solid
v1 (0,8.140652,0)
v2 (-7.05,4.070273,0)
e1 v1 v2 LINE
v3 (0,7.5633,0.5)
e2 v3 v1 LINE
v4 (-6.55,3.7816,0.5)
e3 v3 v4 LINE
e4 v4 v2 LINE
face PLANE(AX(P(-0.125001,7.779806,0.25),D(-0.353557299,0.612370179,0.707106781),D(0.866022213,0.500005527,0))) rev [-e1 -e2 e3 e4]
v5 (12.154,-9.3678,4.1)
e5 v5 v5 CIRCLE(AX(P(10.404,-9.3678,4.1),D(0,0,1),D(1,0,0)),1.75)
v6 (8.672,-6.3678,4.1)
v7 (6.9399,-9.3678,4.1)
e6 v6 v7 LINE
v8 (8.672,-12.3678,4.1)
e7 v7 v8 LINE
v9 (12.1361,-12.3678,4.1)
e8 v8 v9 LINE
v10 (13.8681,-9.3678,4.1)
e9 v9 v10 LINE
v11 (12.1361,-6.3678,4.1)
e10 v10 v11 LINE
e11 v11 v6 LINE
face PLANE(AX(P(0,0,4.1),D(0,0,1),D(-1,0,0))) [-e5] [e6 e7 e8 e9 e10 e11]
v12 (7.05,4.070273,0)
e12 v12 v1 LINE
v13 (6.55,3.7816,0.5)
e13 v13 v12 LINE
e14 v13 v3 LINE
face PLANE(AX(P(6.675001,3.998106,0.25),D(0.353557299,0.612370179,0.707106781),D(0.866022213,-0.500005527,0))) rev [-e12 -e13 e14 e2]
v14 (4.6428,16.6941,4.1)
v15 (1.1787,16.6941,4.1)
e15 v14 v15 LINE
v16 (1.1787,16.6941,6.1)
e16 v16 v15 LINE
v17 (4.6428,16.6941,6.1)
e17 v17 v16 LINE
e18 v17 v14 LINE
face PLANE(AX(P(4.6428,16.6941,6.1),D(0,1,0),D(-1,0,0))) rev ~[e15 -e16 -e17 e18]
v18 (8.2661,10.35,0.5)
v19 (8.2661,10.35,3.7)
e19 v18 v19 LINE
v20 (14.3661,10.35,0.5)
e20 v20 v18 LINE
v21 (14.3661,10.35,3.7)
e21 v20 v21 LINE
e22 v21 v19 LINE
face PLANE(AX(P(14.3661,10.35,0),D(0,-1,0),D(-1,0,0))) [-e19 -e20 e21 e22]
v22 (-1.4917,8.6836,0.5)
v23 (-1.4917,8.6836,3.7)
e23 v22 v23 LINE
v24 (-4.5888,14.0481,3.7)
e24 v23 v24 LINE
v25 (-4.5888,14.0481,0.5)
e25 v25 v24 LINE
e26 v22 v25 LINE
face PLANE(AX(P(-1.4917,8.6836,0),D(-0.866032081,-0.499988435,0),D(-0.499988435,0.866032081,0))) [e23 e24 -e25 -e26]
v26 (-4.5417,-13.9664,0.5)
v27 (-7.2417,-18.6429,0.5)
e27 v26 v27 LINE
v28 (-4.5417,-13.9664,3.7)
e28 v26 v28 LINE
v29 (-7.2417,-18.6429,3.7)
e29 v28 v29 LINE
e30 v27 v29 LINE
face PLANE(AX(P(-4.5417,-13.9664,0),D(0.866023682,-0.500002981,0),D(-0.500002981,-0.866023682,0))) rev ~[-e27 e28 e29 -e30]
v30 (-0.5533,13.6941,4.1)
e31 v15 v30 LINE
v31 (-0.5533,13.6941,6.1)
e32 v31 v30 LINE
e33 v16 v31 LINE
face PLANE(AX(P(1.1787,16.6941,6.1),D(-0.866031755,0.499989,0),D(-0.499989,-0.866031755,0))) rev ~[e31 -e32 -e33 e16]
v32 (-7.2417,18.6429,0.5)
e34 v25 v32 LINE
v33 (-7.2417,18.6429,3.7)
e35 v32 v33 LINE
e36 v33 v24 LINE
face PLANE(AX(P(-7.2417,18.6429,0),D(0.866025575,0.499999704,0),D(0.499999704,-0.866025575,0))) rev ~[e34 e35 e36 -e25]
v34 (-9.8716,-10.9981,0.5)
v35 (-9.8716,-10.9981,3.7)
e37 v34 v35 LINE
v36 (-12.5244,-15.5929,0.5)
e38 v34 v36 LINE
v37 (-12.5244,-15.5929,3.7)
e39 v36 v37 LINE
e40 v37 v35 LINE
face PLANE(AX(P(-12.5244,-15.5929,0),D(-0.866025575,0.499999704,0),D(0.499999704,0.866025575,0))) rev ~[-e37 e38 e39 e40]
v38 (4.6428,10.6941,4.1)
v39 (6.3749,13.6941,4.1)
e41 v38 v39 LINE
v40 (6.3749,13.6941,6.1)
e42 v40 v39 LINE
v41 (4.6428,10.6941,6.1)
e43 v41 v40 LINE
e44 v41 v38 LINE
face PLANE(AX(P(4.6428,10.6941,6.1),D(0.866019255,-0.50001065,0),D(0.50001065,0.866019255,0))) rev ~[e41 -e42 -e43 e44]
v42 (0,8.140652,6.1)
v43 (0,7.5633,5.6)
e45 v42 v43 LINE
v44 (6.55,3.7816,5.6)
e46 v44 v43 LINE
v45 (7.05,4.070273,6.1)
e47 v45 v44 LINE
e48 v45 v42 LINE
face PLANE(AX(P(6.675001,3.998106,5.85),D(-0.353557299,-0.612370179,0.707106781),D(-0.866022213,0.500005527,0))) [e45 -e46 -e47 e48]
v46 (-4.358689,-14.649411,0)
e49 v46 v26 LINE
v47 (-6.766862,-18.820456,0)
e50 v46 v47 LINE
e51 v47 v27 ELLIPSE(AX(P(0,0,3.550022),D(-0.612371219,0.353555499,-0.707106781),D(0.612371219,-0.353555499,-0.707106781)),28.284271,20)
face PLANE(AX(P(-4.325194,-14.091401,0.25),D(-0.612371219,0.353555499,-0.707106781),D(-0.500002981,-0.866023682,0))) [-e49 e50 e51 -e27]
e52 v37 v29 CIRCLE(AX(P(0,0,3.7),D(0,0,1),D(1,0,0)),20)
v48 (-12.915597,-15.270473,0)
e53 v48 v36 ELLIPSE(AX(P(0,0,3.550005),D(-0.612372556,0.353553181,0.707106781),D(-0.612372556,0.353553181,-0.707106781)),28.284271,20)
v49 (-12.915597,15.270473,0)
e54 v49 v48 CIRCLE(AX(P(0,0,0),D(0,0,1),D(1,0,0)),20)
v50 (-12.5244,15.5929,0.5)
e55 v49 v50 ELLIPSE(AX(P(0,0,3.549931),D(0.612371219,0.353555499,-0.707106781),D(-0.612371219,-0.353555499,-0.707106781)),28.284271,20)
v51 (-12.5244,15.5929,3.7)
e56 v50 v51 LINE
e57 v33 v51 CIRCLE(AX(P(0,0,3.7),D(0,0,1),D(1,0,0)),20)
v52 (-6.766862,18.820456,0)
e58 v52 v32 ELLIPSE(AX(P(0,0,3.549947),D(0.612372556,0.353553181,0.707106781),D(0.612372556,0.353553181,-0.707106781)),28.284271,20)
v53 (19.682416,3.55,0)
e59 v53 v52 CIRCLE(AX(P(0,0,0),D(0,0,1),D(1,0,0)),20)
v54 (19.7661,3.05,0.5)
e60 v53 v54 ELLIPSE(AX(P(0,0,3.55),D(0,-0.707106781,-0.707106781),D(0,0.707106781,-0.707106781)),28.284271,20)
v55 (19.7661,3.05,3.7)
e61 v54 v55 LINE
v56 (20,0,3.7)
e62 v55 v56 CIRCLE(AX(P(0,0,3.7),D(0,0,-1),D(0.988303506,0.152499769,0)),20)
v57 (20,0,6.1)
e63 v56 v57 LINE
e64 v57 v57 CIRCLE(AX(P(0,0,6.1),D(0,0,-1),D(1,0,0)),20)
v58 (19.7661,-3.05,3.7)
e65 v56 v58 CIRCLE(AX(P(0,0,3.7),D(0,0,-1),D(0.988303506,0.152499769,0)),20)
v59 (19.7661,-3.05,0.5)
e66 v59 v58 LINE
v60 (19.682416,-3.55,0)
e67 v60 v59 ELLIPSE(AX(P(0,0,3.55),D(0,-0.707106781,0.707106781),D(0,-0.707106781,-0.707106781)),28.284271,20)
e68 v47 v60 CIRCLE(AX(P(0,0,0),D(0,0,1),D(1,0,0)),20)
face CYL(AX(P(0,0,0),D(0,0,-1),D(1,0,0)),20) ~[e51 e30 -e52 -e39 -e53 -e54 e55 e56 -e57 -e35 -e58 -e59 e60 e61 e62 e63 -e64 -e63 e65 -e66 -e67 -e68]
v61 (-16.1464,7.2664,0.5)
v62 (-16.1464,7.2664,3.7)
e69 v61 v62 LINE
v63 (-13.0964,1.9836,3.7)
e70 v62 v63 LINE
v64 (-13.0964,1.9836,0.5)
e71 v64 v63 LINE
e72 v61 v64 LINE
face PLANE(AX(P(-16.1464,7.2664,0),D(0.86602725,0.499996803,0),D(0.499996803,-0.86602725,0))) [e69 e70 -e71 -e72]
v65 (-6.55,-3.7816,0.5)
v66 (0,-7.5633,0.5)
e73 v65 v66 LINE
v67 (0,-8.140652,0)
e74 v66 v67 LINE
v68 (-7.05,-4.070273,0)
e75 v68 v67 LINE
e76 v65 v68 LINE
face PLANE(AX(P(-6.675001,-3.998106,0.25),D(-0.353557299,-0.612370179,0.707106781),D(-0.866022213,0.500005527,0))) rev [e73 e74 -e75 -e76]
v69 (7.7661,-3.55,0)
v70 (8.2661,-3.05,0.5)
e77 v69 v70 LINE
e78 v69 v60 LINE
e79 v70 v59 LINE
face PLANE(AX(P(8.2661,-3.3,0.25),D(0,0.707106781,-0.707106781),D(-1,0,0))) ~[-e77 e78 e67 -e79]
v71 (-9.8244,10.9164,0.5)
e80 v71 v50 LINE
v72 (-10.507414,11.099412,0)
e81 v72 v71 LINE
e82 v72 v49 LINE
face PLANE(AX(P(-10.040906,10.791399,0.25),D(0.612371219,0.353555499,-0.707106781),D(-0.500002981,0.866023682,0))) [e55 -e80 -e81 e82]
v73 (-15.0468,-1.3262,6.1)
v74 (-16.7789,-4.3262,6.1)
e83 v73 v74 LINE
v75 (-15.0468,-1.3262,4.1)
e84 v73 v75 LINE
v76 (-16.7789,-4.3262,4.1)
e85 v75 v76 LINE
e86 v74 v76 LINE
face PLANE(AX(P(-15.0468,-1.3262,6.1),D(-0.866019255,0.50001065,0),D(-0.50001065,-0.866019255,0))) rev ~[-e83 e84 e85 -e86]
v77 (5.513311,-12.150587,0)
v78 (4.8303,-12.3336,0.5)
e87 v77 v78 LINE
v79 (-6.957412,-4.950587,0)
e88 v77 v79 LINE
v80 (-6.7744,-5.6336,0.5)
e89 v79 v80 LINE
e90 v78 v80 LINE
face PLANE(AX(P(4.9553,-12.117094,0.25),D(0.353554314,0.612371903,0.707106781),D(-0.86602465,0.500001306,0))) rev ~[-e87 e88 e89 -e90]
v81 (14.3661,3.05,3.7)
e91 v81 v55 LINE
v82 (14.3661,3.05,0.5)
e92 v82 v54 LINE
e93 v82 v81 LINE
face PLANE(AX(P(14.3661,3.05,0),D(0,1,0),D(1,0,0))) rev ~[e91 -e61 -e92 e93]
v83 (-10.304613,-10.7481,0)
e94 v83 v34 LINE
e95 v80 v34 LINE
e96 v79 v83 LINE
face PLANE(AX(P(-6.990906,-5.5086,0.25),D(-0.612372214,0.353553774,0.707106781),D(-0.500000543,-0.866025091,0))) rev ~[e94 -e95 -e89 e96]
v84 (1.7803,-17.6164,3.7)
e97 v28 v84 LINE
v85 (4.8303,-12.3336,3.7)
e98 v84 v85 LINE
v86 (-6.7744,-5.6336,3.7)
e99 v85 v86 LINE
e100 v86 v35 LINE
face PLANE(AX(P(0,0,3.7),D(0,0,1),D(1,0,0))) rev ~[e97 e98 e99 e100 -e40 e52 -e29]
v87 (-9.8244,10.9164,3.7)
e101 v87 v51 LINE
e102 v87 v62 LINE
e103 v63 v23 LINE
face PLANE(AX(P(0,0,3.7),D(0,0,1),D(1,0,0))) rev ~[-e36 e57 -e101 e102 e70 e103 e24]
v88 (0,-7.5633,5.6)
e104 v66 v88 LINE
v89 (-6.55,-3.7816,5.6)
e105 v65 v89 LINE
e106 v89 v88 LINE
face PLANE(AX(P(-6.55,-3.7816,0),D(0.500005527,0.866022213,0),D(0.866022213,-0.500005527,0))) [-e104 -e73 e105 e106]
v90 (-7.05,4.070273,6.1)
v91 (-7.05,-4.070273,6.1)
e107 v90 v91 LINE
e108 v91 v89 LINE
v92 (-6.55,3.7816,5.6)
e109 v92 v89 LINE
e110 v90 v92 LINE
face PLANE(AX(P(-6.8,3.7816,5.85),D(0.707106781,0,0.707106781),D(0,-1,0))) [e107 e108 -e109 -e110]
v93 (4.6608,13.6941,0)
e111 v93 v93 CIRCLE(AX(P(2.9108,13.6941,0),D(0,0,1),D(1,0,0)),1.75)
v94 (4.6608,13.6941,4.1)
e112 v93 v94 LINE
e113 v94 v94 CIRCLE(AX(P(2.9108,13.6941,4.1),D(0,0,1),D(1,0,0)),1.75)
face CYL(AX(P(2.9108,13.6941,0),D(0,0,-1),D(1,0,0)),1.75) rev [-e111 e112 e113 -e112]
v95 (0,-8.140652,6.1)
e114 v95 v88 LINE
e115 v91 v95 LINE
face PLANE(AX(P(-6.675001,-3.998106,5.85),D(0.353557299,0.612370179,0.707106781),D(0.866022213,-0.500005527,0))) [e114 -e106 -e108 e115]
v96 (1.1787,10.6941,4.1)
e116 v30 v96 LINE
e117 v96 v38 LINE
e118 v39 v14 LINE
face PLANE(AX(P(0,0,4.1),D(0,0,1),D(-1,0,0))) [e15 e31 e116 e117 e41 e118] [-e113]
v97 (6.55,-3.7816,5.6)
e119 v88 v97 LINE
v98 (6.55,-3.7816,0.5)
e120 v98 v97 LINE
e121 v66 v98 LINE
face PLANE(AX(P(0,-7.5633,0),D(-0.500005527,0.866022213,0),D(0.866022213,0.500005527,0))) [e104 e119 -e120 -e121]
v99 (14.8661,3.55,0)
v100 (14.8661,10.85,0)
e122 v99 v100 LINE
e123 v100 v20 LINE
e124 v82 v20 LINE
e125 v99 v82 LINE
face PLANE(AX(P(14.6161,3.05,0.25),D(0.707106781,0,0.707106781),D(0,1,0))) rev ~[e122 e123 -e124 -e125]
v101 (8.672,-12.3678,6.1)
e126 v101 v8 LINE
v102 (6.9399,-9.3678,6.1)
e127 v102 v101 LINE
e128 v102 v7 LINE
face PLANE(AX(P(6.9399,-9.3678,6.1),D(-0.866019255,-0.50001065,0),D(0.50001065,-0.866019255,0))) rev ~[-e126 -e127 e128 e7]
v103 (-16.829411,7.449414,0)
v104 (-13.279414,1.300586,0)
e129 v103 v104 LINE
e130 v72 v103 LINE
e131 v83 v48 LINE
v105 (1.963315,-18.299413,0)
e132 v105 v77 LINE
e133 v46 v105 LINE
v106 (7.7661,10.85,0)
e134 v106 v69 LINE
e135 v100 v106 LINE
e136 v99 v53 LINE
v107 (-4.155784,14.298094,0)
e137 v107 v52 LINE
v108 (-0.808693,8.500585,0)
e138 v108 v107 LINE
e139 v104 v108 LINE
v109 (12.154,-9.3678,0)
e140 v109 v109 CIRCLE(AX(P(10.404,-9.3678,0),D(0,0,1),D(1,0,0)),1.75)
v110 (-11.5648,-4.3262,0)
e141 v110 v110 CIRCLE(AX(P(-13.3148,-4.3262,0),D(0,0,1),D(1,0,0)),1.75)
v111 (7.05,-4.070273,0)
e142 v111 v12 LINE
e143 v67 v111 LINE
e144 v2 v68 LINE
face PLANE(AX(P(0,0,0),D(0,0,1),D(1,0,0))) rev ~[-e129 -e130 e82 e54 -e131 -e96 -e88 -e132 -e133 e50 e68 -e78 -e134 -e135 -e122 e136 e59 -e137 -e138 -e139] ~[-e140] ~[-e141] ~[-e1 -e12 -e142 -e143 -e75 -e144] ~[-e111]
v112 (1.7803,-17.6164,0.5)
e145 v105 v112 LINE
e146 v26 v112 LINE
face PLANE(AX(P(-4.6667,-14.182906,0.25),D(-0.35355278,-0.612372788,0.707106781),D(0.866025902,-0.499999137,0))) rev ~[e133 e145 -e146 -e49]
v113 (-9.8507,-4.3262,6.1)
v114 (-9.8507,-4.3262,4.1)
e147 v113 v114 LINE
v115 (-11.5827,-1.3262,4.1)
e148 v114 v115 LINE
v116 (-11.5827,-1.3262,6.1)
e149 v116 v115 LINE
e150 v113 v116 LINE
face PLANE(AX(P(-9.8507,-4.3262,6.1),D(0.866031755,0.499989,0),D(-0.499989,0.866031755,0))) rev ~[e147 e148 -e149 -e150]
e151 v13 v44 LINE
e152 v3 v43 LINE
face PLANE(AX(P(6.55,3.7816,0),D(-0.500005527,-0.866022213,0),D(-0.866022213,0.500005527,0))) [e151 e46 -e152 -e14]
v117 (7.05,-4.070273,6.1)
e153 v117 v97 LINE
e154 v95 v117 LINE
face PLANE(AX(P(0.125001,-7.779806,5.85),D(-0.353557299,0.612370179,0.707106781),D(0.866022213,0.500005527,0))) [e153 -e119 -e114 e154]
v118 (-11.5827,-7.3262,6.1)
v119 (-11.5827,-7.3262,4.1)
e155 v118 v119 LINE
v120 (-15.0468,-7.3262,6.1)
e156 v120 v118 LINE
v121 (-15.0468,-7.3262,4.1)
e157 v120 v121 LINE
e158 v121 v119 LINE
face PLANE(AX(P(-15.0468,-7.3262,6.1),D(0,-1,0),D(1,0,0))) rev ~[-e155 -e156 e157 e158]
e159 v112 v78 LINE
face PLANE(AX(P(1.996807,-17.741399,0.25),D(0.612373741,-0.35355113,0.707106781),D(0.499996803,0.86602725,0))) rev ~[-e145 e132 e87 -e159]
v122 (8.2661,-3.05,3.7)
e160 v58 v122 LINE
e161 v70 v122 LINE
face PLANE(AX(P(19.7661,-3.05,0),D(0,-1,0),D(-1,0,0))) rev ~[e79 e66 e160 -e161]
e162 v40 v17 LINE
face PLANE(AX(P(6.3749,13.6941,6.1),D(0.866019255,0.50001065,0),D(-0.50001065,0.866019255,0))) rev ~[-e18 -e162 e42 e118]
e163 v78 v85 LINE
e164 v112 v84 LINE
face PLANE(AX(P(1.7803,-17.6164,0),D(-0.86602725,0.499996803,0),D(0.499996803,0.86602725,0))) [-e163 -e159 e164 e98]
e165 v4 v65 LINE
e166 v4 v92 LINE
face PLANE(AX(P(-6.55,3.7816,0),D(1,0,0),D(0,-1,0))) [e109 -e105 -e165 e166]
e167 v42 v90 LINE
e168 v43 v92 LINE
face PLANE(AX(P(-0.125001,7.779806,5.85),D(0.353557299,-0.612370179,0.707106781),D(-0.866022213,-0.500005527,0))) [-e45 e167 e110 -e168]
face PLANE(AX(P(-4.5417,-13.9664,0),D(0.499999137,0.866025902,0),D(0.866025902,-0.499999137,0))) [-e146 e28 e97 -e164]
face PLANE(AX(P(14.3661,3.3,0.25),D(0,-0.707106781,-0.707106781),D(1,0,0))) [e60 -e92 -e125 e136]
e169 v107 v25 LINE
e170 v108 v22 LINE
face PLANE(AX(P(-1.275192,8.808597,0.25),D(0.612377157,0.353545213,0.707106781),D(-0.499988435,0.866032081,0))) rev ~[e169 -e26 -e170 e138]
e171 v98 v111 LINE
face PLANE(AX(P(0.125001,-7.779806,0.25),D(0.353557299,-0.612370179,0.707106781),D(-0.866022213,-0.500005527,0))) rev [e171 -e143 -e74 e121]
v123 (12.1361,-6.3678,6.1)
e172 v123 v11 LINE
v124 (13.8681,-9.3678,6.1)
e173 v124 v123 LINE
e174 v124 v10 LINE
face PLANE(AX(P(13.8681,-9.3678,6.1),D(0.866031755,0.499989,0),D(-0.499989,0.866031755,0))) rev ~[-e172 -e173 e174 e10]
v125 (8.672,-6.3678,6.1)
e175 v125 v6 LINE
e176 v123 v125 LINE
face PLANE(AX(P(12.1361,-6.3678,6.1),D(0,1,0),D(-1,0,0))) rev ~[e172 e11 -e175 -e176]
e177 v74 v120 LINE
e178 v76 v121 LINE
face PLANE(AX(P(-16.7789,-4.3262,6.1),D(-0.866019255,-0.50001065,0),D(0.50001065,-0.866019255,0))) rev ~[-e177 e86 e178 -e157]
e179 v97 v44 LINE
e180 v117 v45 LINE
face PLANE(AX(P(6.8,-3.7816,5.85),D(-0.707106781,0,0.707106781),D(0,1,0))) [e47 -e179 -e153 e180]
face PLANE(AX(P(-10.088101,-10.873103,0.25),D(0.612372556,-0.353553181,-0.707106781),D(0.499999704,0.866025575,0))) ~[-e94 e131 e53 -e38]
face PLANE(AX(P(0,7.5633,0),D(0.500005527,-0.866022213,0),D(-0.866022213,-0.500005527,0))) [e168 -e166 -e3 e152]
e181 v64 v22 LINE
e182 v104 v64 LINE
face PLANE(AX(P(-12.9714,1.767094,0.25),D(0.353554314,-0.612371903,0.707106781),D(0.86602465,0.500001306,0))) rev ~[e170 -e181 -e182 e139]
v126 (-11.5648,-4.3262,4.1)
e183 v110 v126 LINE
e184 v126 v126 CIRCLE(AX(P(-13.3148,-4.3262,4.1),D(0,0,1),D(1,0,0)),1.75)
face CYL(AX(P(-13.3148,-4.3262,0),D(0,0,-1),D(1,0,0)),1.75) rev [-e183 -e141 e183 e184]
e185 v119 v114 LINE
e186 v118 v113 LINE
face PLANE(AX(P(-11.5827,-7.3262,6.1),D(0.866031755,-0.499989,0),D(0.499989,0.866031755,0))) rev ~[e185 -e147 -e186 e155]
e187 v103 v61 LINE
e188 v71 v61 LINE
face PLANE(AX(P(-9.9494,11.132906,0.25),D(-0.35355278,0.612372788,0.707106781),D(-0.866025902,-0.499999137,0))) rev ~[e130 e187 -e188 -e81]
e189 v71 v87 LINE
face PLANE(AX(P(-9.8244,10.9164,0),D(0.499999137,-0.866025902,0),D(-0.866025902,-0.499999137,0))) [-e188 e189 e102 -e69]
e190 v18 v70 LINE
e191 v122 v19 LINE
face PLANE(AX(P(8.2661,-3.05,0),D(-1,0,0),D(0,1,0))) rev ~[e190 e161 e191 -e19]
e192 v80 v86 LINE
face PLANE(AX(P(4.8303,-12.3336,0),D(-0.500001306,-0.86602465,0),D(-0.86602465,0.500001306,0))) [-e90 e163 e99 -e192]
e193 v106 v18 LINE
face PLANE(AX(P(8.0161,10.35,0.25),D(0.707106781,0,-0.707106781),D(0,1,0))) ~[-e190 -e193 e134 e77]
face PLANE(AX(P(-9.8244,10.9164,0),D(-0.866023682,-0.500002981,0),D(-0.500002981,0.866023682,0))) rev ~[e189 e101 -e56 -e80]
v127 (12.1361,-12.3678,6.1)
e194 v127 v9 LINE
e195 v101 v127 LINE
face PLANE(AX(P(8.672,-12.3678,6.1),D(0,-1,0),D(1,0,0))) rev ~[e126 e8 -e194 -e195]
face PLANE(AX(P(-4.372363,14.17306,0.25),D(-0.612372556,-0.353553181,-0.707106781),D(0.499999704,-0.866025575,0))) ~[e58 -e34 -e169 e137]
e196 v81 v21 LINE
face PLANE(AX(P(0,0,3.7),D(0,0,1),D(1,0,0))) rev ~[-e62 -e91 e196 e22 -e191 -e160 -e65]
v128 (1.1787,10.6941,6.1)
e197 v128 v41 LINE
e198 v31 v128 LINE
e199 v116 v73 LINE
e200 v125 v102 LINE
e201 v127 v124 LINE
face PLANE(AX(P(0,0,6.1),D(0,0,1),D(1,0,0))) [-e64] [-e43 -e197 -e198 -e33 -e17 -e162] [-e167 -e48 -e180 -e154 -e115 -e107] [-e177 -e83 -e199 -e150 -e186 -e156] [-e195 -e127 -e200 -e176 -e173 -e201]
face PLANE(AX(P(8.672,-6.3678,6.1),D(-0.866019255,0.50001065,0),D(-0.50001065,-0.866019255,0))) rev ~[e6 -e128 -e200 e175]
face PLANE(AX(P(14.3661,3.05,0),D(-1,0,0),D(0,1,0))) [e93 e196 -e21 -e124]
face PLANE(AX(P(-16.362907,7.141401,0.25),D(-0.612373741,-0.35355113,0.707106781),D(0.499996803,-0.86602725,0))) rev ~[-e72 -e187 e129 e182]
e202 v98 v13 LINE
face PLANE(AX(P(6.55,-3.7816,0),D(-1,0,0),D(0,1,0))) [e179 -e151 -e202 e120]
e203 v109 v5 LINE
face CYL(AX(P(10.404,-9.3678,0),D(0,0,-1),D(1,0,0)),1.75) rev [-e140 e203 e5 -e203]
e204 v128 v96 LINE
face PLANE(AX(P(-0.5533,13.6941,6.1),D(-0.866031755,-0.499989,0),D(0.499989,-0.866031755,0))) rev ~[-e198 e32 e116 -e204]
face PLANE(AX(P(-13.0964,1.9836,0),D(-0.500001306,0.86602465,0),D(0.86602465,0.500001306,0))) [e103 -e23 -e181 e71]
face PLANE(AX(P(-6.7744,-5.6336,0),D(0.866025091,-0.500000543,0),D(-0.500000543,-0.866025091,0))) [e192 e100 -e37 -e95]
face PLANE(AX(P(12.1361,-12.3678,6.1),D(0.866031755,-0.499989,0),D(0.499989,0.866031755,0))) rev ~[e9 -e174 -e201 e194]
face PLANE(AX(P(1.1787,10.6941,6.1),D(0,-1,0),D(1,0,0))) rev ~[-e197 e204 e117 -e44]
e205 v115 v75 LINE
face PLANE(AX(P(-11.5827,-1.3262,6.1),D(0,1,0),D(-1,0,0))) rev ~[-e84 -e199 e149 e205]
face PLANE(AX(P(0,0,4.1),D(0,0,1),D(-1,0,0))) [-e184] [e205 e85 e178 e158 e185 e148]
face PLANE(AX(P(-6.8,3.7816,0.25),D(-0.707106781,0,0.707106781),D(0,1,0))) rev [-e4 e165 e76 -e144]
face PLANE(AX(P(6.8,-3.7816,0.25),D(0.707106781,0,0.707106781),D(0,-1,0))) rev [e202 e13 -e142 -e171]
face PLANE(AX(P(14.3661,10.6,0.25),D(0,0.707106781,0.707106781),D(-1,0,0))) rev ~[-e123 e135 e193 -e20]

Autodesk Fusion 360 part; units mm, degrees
sketch "Esquisse1" plane through (0, 0, 0) normal (0, 0, 1) x (1, 0, 0)
  circle A0 centre (0, 0) radius 20
  line L0 (19.7661, -3.05) -> (8.2661, -3.05)
  line L1 (8.2661, -3.05) -> (8.2661, 3.1)
  line L2 (14.3661, 3.05) -> (19.7661, 3.05)
  line L3 (8.2661, -3.05) -> (14.4604, -3.05)
  line L4 (14.3661, 10.35) -> (8.2661, 10.35)
  line L5 (8.2661, 10.35) -> (8.2661, -3.05)
  line L6 (0, 0) -> (29, 0) construction
  line L7 (14.3661, 3.05) -> (14.3661, 10.35)
  line L8 (-9.8244, 10.9164) -> (-16.1464, 7.2664)
  line L9 (-16.1464, 7.2664) -> (-13.0964, 1.9836)
  line L10 (-13.0964, 1.9836) -> (-1.4917, 8.6836)
  line L11 (-1.4917, 8.6836) -> (-4.5888, 14.0481)
  line L12 (-7.2417, 18.6429) -> (-1.4917, 8.6836)
  line L13 (-9.8244, 10.9164) -> (-12.5244, 15.5929)
  line L14 (-4.5417, -13.9664) -> (1.7803, -17.6164)
  line L15 (1.7803, -17.6164) -> (4.8303, -12.3336)
  line L16 (4.8303, -12.3336) -> (-6.7744, -5.6336)
  line L17 (-6.7744, -5.6336) -> (-9.8716, -10.9981)
  line L18 (-12.5244, -15.5929) -> (-6.7744, -5.6336)
  line L19 (-4.5417, -13.9664) -> (-7.2417, -18.6429)
  circle A1 centre (2.9108, 13.6941) radius 1.75
  line L20 (0, 0) -> (2.9108, 13.6941) construction
  circle A2 centre (-13.3148, -4.3262) radius 1.75
  circle A3 centre (10.404, -9.3678) radius 1.75
  line L21 (0, 7.5633) -> (-6.55, 3.7816)
  line L22 (-6.55, 3.7816) -> (-6.55, -3.7816)
  line L23 (-6.55, -3.7816) -> (0, -7.5633)
  line L24 (0, -7.5633) -> (6.55, -3.7816)
  line L25 (6.55, -3.7816) -> (6.55, 3.7816)
  line L26 (6.55, 3.7816) -> (0, 7.5633)
  dimension "d1" = 40
  dimension "d2" = 6.1
  dimension "d3" = 11.5
  dimension "d6" = 6.1
  dimension "d7" = 3.05
  dimension "d8" = 13.4
  dimension "d10" = 360
  dimension "d16" = 3.5
  dimension "d17" = 78
  dimension "d19" = 360
  dimension "d21" = 14
  dimension "d25" = 6.55
extrude "Extrusion1" add sketch "Esquisse1" along normal blind 6.1 contours A0 L0 L1 L2 L3 L4 L5 L7 | A0 L0 L1 L2 L3 L4 L5 L7 L8 L9 L10 L11 L12 L13 L14 L15 L16 L17 L18 L19 | A0 L8 L9 L10 L11 L12 L13 | A0 L14 L15 L16 L17 L18 L19 | A1 | A2 | A3 | L21 L22 L23 L24 L25 L26
extrude "Extrusion2" cut sketch "Esquisse1" along normal blind 3.7 contours A0 L0 L1 L2 L3 L4 L5 L7 | A0 L8 L9 L10 L11 L12 L13 | A0 L14 L15 L16 L17 L18 L19
extrude "Extrusion3" cut sketch "Esquisse1" along normal blind 6.1 contours A1 | A2 | A3
chamfer "Chanfrein1" distance 0.5 angle 45 15 edges at (-4.3667, 13.6633, 0) (-11.1744, 13.2546, 0) (-12.9854, 9.0914, 0) (-14.6214, 4.625, 0) (-7.294, 5.3336, 0) (-9.6494, -10.6133, 0) (-0.972, -8.9836, 0) (-5.8917, -16.3046, 0) (-1.3807, -15.7914, 0) (3.3053, -14.975, 0) (8.2661, 3.65, 0) (14.0161, -3.05, 0) (17.0661, 3.05, 0) (14.3661, 6.7, 0) (11.3161, 10.35, 0)
extrude "Extrusion4" cut sketch "Esquisse1" along normal blind 6.1 contours L21 L22 L23 L24 L25 L26
chamfer "Chanfrein2" distance 0.5 angle 45 6 edges at (-3.275, -5.6725, 6.1) (-6.55, 0, 6.1) (-3.275, 5.6725, 6.1) (3.275, 5.6725, 6.1) (6.55, 0, 6.1) (3.275, -5.6725, 6.1)
chamfer "Chanfrein3" distance 0.5 angle 45 6 edges at (-6.55, 0, 0) (-3.275, -5.6725, 0) (3.275, -5.6725, 0) (6.55, 0, 0) (3.275, 5.6725, 0) (-3.275, 5.6725, 0)
sketch "Esquisse3" plane through (0, 0, 6.1) normal (0, 0, 1) x (-1, 0, 0)
  circle A0 centre (0, 0) radius 20
  circle A1 centre (-2.9108, -13.6941) radius 1.75
  circle A2 centre (13.3148, 4.3262) radius 1.75
  circle A3 centre (-10.404, 9.3678) radius 1.75
  line L0 (-7.05, -4.0703) -> (-7.05, 4.0703)
  line L1 (-7.05, 4.0703) -> (0, 8.1406)
  line L2 (0, 8.1406) -> (7.05, 4.0703)
  line L3 (7.05, 4.0703) -> (7.05, -4.0703)
  line L4 (7.05, -4.0703) -> (0, -8.1406)
  line L5 (0, -8.1406) -> (-7.05, -4.0703)
  line L6 (-4.6428, -10.6941) -> (-6.3749, -13.6941)
  line L7 (-6.3749, -13.6941) -> (-4.6428, -16.6941)
  line L8 (-4.6428, -16.6941) -> (-1.1787, -16.6941)
  line L9 (-1.1787, -16.6941) -> (0.5533, -13.6941)
  line L10 (0.5533, -13.6941) -> (-1.1787, -10.6941)
  line L11 (-1.1787, -10.6941) -> (-4.6428, -10.6941)
  line L12 (9.8507, 4.3262) -> (11.5827, 1.3262)
  line L13 (11.5827, 7.3262) -> (9.8507, 4.3262)
  line L14 (15.0468, 7.3262) -> (11.5827, 7.3262)
  line L15 (16.7789, 4.3262) -> (15.0468, 7.3262)
  line L16 (15.0468, 1.3262) -> (16.7789, 4.3262)
  line L17 (11.5827, 1.3262) -> (15.0468, 1.3262)
  line L18 (-8.672, 6.3678) -> (-6.9399, 9.3678)
  line L19 (-12.1361, 6.3678) -> (-8.672, 6.3678)
  line L20 (-13.8681, 9.3678) -> (-12.1361, 6.3678)
  line L21 (-12.1361, 12.3678) -> (-13.8681, 9.3678)
  line L22 (-8.672, 12.3678) -> (-12.1361, 12.3678)
  line L23 (-6.9399, 9.3678) -> (-8.672, 12.3678)
  point P0 (-2.9108, -13.6941)
  dimension "d30" = 3
  dimension "d32" = 360
extrude "Extrusion5" cut sketch "Esquisse3" against normal blind 2 contours L6 L7 L8 L9 L10 L11 | L12 L13 L14 L15 L16 L17 | L18 L19 L20 L21 L22 L23
equation "d6 = d2"
equation "d7 = d2 / 2"
